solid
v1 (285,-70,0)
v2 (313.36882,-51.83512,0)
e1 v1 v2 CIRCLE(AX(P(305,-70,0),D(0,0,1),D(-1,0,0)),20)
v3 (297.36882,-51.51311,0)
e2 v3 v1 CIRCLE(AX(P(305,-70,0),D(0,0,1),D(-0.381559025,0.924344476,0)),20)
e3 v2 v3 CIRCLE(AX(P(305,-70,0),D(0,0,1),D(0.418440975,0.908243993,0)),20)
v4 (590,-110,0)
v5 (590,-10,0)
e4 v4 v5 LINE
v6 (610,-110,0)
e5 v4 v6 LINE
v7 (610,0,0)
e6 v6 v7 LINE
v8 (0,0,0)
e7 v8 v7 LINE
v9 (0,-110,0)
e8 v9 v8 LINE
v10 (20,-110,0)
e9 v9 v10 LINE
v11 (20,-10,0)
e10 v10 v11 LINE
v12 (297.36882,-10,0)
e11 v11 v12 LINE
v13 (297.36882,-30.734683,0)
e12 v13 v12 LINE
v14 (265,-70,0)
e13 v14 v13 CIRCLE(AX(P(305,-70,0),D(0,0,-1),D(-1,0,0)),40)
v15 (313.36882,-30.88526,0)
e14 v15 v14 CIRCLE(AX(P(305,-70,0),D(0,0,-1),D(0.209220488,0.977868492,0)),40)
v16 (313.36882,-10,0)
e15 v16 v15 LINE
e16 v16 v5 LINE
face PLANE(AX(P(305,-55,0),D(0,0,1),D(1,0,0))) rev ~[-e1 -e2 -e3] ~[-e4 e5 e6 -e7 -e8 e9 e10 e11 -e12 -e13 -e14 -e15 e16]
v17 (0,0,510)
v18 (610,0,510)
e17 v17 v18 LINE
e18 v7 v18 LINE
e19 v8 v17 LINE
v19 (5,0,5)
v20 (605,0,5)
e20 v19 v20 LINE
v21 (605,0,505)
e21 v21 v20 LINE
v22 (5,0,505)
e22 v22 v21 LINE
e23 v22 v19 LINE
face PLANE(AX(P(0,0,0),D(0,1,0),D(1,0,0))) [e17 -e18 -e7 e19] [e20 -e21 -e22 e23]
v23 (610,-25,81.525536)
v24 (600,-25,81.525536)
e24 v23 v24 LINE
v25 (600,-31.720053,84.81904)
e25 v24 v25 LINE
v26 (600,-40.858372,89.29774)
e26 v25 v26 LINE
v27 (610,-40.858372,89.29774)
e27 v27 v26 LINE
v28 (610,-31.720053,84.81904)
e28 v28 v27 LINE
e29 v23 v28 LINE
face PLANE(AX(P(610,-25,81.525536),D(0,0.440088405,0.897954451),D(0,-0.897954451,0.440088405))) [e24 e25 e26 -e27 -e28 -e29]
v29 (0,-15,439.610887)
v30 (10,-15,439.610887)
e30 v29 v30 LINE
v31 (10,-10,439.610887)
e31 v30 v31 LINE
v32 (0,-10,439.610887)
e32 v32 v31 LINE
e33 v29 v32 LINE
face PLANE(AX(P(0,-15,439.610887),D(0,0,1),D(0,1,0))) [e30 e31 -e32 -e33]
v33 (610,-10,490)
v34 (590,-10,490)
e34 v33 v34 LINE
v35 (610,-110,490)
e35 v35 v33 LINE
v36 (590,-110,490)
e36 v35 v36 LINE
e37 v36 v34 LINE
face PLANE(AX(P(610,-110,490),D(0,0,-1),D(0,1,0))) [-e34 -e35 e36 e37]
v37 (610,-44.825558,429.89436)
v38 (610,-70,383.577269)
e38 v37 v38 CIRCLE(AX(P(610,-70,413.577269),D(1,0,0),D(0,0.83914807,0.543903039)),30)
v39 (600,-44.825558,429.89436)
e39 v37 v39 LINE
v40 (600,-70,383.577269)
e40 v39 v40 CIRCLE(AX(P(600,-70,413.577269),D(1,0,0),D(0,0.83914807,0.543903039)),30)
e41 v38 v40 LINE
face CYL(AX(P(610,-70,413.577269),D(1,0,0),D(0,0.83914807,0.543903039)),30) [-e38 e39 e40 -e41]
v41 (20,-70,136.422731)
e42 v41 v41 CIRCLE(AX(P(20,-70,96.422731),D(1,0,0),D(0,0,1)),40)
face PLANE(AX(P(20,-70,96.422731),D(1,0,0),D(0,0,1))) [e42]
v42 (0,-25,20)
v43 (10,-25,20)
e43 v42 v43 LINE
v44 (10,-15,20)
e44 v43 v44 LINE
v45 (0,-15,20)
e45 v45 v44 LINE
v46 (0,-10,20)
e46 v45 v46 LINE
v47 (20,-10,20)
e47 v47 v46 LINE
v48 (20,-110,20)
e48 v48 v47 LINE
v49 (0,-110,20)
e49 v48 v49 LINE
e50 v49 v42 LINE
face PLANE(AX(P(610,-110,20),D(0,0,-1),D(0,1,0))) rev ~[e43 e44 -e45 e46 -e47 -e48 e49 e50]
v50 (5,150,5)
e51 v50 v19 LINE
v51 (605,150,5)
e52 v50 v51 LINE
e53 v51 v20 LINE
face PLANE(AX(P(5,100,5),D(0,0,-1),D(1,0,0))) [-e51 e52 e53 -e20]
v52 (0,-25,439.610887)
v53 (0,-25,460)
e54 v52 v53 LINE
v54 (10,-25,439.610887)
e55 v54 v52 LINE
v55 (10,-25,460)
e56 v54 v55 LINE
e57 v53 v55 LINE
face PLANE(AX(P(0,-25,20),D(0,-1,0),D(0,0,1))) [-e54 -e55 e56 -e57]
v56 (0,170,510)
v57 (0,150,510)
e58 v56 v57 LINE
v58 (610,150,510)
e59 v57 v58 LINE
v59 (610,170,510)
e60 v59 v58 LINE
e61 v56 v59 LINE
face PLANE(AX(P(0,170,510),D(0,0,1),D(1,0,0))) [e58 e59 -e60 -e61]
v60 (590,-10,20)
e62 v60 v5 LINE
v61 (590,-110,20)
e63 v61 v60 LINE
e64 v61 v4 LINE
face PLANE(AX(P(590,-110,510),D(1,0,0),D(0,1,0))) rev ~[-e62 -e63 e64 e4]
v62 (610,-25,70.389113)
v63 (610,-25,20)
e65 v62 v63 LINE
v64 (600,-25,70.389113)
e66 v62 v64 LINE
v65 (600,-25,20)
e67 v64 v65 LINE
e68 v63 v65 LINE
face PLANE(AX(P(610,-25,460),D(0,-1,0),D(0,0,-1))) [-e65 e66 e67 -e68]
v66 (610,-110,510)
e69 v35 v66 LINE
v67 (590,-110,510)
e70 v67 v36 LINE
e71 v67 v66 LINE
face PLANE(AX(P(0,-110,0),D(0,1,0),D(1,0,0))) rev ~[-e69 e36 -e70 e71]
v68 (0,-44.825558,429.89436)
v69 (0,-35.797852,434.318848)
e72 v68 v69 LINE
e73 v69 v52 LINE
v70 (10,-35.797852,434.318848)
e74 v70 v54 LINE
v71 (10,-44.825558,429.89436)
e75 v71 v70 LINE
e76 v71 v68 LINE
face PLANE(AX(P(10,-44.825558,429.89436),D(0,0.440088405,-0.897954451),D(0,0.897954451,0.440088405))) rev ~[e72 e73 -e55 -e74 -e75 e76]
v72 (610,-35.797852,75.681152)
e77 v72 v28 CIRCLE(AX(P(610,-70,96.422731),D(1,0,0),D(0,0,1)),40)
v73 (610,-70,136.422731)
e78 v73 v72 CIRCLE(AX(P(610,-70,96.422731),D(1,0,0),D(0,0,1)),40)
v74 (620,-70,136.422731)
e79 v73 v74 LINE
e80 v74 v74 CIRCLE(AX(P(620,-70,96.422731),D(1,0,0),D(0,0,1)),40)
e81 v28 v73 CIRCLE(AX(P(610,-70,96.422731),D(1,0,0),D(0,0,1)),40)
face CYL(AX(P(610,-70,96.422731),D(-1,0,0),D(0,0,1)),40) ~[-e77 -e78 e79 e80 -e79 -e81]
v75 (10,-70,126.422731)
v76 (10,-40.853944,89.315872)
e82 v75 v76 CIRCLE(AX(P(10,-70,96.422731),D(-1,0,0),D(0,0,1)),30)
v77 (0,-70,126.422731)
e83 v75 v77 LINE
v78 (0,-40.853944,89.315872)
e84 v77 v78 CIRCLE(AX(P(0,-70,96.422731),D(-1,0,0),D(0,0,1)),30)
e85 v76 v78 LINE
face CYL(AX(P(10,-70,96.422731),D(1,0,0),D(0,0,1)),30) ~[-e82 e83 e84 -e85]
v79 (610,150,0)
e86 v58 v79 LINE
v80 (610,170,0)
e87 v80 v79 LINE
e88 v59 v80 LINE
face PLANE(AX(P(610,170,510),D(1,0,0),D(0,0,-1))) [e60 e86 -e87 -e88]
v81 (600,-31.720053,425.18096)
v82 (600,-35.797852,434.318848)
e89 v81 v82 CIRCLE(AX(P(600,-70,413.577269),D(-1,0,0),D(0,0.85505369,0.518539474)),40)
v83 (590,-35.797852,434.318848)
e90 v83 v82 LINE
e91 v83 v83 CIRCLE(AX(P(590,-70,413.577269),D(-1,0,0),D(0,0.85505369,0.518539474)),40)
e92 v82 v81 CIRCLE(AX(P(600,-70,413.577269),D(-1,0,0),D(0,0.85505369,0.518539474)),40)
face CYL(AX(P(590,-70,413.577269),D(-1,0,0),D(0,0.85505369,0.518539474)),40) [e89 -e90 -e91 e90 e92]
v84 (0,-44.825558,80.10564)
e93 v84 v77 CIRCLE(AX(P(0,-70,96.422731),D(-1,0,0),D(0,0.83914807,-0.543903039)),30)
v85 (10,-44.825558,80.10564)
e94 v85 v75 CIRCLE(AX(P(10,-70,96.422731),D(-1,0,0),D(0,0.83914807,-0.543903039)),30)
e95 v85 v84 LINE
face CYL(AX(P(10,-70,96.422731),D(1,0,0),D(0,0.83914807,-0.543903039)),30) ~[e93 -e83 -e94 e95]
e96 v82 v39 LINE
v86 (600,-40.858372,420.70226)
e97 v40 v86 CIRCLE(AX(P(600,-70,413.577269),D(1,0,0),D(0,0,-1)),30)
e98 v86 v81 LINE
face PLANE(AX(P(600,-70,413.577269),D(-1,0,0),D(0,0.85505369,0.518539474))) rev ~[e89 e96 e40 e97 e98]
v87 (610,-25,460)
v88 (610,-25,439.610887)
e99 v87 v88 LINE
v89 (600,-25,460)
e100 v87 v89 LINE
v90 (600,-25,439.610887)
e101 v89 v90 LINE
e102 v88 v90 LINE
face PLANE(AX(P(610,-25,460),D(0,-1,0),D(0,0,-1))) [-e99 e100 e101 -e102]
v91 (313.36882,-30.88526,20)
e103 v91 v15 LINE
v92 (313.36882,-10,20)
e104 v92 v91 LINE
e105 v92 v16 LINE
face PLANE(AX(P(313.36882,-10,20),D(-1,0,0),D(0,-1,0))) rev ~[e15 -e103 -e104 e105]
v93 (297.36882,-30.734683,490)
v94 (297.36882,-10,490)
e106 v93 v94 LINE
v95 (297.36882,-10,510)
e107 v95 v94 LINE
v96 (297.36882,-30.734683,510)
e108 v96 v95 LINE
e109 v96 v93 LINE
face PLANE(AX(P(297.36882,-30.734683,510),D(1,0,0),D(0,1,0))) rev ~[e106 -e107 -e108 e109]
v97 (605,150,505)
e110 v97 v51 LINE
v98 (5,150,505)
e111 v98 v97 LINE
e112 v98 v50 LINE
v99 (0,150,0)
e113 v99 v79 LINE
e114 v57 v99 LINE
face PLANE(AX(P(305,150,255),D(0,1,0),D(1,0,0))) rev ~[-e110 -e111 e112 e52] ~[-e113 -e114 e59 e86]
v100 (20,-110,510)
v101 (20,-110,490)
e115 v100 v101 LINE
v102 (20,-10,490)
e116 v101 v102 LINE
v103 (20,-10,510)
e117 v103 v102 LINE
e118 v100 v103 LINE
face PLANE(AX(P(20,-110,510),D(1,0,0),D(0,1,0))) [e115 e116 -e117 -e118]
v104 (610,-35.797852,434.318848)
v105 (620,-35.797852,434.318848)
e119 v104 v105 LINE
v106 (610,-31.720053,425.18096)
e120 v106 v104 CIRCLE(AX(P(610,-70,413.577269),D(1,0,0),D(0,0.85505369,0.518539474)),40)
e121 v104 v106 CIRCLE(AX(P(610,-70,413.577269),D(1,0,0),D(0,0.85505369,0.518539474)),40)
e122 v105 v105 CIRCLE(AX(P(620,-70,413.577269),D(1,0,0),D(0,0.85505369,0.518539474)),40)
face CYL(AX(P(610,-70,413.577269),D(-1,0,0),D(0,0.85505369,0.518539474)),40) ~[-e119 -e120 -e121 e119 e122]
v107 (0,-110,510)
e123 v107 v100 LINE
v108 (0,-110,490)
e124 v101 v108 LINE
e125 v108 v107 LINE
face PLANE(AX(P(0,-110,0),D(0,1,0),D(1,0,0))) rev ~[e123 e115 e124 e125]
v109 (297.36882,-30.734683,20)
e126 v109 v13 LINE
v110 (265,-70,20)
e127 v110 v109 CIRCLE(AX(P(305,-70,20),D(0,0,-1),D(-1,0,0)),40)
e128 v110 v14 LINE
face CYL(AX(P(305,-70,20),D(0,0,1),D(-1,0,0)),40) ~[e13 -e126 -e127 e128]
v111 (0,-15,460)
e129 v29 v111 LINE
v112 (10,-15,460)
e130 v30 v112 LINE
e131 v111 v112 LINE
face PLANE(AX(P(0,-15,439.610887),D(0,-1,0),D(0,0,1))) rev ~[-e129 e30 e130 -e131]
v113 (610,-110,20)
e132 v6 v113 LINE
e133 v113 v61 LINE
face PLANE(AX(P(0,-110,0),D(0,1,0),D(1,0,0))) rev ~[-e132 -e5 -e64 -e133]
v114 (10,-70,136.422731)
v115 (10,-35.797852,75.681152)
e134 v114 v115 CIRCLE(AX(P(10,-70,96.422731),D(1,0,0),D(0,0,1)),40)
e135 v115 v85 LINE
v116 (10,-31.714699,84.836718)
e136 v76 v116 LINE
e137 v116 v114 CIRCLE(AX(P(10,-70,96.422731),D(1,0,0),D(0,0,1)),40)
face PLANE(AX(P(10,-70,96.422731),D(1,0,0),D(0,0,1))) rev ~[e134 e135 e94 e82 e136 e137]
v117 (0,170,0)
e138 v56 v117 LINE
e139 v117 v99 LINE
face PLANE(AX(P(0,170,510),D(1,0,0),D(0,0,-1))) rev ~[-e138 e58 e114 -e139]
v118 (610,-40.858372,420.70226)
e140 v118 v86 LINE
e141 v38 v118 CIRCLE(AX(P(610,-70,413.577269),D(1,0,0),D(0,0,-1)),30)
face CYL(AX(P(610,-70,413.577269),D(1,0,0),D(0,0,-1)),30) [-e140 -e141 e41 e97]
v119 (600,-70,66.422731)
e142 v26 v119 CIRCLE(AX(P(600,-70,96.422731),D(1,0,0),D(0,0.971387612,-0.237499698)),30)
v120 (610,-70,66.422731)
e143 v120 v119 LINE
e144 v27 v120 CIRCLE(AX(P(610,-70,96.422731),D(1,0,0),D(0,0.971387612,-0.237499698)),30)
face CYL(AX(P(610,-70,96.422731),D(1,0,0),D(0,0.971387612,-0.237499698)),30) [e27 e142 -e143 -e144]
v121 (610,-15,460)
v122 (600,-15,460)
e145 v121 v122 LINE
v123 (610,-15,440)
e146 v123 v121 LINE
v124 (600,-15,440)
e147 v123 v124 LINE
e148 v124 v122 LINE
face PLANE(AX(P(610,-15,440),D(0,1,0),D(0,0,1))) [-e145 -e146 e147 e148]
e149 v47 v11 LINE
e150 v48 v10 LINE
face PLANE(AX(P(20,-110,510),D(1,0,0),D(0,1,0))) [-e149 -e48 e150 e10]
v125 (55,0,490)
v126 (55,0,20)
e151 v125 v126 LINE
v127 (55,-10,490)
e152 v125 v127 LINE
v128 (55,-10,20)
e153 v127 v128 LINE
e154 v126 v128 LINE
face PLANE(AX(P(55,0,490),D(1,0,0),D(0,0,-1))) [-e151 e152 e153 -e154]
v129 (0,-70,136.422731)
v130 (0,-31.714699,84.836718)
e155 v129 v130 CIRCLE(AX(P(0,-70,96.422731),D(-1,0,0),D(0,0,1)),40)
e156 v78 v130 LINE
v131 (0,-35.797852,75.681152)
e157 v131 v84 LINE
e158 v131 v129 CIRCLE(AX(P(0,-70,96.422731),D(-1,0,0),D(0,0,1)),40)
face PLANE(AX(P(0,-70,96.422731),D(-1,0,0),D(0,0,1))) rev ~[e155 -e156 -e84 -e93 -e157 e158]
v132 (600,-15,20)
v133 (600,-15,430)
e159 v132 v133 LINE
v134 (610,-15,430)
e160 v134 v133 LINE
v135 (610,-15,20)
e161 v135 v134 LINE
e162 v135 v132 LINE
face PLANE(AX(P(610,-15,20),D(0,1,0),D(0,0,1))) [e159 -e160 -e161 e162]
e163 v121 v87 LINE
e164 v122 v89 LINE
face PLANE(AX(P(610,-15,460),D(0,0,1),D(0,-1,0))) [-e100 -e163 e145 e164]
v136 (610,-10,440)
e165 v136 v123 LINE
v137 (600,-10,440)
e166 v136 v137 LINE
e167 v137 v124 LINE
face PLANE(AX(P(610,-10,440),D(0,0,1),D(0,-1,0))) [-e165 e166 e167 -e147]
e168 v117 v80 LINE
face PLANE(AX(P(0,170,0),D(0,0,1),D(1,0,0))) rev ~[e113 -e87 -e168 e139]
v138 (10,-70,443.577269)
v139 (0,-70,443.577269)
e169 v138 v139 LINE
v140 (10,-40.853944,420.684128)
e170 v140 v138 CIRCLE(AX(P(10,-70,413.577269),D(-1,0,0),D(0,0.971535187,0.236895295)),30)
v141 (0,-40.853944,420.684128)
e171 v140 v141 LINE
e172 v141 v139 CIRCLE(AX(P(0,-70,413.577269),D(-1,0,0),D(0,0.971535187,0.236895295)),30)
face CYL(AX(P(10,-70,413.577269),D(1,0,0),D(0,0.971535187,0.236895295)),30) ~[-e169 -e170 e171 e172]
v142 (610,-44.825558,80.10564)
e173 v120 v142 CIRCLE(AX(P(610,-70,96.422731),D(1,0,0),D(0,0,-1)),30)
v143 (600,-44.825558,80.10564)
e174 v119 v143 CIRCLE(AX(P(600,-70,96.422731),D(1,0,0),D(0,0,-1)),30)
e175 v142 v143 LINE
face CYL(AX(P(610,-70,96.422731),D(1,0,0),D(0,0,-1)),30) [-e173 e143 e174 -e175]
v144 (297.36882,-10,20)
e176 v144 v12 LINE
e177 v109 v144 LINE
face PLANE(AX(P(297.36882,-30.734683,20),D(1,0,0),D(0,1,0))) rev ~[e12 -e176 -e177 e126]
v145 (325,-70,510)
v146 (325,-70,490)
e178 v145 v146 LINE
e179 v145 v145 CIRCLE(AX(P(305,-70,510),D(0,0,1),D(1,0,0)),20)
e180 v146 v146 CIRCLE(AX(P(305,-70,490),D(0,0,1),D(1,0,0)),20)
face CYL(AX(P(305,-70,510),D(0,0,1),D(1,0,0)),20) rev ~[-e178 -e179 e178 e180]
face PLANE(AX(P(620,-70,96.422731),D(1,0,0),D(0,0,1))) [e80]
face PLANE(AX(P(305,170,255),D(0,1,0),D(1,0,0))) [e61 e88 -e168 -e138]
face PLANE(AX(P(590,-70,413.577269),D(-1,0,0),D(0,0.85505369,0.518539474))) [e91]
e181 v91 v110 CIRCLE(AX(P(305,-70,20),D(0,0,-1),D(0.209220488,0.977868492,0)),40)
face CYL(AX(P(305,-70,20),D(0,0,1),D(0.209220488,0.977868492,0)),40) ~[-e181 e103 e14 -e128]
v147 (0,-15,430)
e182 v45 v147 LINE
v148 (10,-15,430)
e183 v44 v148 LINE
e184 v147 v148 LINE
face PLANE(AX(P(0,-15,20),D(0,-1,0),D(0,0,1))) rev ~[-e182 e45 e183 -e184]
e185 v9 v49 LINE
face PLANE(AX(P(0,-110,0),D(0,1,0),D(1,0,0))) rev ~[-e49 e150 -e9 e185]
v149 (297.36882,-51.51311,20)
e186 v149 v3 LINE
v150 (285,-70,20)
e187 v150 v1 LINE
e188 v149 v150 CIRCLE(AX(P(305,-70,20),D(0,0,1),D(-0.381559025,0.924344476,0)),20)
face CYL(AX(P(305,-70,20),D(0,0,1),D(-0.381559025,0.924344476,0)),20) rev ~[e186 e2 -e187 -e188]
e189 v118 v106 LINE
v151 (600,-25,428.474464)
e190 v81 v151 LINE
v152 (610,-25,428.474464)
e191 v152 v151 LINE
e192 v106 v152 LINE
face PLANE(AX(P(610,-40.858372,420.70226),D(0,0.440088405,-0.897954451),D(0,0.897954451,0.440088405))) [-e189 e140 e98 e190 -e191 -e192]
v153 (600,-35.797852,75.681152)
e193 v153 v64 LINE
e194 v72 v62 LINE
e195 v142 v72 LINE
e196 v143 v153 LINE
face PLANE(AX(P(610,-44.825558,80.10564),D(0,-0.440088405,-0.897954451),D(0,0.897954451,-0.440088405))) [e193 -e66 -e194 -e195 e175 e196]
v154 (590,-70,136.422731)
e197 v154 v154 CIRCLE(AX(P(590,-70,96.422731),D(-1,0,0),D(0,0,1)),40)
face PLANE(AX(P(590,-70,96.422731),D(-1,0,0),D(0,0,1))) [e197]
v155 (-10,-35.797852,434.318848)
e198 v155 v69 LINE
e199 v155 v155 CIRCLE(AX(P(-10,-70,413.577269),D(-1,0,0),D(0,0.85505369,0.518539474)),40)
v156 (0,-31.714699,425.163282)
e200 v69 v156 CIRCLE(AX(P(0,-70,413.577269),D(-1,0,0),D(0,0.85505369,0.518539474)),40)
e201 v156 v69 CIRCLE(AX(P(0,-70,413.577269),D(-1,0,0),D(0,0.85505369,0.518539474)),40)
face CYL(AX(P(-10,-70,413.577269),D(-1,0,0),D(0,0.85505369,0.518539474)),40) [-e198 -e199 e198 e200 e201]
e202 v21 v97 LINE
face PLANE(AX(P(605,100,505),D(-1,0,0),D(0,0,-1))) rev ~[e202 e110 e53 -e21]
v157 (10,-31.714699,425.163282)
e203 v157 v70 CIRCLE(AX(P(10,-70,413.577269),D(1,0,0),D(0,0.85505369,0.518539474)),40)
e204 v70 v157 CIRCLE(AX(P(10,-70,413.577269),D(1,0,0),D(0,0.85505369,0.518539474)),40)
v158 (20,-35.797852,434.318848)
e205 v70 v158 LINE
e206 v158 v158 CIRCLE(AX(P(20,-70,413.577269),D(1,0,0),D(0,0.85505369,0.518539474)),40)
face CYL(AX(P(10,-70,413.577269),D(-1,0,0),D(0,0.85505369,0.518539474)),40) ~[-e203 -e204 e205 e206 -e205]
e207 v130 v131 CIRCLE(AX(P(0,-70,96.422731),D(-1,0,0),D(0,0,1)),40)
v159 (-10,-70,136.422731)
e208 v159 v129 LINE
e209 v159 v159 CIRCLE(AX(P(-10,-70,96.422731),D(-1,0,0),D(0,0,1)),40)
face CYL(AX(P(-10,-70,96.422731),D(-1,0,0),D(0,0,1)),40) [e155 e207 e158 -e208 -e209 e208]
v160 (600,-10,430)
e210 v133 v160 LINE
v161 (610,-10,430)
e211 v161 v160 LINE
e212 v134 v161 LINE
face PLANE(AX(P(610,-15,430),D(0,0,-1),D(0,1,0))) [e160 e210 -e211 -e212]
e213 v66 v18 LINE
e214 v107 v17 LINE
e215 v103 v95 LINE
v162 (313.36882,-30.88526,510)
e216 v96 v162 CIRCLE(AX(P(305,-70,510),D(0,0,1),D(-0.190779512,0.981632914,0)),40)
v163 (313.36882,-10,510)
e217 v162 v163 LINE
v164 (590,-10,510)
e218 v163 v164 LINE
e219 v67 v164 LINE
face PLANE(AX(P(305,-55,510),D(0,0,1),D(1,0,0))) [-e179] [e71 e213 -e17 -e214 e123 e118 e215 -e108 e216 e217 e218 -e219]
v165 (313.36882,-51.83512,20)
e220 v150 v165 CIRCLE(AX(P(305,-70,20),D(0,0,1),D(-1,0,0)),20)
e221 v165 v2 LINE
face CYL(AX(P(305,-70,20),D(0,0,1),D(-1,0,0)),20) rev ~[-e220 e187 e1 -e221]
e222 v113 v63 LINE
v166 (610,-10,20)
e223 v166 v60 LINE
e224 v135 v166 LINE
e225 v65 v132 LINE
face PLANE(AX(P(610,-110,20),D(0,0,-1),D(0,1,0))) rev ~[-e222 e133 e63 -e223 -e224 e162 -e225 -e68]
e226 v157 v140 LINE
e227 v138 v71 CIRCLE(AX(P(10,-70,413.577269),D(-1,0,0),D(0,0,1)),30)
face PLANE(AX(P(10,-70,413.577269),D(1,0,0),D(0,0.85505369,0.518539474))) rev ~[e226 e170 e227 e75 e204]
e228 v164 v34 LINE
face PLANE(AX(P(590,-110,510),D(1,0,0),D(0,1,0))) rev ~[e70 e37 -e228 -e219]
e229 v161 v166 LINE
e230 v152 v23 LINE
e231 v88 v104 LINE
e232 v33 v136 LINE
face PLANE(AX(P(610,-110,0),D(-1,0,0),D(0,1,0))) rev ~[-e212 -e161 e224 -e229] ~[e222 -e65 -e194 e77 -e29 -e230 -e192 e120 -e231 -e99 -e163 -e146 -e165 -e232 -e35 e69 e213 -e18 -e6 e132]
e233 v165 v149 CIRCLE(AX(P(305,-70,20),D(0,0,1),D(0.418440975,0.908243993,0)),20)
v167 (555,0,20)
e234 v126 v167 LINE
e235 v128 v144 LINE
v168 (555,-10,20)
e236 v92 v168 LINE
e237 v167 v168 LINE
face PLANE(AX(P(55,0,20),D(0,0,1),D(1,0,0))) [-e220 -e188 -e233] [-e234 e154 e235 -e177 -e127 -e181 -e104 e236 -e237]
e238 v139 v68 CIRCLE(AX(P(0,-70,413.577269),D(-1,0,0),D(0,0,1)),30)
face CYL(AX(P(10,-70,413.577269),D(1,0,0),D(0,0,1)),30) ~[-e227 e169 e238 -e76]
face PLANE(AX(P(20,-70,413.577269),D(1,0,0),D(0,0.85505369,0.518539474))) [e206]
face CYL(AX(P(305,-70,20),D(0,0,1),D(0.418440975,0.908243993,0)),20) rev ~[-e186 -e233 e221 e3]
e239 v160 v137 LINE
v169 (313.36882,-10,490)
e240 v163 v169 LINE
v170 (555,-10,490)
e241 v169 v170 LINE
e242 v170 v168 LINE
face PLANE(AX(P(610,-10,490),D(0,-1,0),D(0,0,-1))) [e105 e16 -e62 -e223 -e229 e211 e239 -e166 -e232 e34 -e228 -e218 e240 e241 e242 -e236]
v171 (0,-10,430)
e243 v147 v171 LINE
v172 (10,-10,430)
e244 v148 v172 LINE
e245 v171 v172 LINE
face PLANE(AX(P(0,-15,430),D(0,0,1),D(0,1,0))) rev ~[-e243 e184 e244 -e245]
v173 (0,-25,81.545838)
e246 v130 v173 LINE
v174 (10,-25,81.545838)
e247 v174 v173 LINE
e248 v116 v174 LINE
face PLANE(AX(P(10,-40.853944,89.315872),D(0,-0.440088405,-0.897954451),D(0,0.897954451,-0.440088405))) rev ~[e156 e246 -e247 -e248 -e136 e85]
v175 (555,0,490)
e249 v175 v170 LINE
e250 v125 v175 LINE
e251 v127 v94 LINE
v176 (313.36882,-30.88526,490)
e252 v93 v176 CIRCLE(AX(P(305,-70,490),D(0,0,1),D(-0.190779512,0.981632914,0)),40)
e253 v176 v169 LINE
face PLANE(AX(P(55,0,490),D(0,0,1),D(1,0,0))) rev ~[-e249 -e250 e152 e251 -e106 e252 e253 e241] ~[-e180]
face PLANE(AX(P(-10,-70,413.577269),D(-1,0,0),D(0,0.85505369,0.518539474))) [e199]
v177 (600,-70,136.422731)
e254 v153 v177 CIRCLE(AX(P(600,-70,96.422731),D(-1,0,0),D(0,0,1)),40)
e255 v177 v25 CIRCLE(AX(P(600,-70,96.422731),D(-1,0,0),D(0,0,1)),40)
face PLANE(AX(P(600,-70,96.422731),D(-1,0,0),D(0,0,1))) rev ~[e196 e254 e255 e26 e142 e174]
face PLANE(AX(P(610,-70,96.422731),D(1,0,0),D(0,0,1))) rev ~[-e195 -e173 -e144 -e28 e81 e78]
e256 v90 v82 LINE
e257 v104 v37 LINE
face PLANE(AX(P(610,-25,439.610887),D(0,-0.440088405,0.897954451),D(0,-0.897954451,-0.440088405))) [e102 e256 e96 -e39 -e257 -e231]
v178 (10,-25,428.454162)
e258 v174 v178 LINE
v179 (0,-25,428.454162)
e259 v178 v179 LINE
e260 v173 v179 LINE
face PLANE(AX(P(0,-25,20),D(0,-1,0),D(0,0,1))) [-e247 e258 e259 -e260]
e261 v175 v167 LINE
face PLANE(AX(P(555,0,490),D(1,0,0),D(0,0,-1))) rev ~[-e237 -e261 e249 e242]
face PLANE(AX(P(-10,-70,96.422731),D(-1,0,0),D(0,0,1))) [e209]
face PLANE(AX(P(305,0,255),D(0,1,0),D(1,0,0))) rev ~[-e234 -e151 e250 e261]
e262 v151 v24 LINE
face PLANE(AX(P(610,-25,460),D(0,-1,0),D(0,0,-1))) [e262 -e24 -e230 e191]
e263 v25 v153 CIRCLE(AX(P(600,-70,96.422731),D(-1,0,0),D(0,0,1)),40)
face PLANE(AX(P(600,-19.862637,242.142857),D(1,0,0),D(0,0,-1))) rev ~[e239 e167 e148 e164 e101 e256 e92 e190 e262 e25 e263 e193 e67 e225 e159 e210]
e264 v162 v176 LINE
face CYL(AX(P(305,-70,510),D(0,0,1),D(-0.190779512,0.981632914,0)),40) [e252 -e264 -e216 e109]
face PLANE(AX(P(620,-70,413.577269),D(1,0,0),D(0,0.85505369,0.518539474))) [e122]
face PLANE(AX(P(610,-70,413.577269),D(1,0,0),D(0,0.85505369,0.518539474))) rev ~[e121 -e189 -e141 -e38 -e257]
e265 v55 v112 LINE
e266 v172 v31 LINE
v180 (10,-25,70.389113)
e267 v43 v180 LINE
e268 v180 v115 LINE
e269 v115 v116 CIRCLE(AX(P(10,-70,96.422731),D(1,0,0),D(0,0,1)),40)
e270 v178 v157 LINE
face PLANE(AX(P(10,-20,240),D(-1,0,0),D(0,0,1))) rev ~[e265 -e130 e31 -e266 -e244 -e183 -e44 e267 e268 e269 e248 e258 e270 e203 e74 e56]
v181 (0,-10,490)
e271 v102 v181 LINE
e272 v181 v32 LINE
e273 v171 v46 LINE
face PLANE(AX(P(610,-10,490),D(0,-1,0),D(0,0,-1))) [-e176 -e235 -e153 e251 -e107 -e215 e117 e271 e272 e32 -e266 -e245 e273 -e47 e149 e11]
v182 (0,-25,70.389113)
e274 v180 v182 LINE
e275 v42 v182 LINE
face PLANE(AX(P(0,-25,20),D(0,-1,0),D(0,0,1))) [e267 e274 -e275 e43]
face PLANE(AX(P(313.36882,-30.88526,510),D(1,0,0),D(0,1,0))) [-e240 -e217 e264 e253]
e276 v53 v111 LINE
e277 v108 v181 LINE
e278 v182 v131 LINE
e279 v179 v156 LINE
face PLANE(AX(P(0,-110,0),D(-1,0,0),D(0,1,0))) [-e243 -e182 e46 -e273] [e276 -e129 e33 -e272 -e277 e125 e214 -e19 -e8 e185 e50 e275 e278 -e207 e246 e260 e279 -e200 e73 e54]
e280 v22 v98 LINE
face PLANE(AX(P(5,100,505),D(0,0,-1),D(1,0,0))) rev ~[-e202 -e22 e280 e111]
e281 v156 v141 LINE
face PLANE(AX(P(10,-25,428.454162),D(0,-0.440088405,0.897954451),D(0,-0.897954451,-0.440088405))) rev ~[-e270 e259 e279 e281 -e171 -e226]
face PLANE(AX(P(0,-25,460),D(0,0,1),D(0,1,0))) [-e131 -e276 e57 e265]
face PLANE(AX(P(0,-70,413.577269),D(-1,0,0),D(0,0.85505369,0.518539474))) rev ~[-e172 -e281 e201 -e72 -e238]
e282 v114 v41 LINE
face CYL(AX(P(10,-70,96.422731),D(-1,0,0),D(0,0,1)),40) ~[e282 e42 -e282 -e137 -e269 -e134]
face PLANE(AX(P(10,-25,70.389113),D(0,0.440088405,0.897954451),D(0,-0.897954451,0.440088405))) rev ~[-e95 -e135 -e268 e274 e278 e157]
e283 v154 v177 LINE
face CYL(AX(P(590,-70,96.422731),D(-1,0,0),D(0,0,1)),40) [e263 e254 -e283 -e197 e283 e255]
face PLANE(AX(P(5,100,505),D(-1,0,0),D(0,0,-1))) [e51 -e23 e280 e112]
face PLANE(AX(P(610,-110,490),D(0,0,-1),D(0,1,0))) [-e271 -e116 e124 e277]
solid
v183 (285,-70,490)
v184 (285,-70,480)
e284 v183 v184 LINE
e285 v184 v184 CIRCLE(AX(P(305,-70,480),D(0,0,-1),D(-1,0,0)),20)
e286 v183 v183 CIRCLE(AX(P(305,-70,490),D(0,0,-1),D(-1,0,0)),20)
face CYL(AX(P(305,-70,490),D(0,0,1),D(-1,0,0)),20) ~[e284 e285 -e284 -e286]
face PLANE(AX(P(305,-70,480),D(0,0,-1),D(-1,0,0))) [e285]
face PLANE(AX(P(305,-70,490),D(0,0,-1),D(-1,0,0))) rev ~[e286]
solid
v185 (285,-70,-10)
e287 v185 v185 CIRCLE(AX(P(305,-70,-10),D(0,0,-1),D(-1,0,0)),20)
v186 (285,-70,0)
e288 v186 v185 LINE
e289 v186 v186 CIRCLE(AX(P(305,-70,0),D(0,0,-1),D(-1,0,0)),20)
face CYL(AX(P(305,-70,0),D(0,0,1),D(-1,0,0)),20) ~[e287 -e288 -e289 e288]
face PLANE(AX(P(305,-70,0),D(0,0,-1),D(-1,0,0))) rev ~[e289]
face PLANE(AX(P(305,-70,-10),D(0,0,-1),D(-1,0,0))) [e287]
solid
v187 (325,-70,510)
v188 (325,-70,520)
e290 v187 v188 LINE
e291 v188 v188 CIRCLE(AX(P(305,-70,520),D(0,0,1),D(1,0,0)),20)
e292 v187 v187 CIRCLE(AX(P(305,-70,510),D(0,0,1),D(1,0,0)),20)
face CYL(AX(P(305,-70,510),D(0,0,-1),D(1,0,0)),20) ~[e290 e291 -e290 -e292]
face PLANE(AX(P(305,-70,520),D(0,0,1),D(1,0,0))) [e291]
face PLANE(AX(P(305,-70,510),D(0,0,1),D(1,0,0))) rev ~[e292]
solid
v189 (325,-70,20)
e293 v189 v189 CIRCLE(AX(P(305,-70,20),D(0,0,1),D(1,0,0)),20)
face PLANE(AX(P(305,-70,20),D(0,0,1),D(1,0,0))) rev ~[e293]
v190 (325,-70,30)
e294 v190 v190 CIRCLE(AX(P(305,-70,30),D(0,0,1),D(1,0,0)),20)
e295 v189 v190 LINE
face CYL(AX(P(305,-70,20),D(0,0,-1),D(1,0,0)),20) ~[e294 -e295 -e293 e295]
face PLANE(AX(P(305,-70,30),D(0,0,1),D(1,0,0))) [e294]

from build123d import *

# Parameters (mm, degrees)
SKETCH2_W            = 610
SKETCH2_H            = 110
BOSS_EXTRUDE1_DEPTH  = 510
SKETCH3_W            = 500
SKETCH3_H            = 470
CUT_EXTRUDE1_DEPTH   = 510
SKETCH4_W            = 570
SKETCH4_H            = 100
CUT_EXTRUDE2_DEPTH   = 510
SKETCH5_W            = 470
SKETCH5_H            = 100
CUT_EXTRUDE4_DEPTH   = 610
SKETCH7_W            = 600
SKETCH7_H            = 500
BOSS_EXTRUDE2_DEPTH  = 100
SKETCH8_W            = 500
SKETCH8_H            = 400
BOSS_EXTRUDE3_DEPTH  = 20
SKETCH9_W            = 600
SKETCH9_H            = 500
BOSS_EXTRUDE4_DEPTH  = 50
SKETCH10_R           = 30
CUT_EXTRUDE5_DEPTH   = 600
BOSS_EXTRUDE5_DEPTH  = 10
BOSS_EXTRUDE11_DEPTH = 10
SKETCH17_R           = 40
BOSS_EXTRUDE12_DEPTH = 10
BOSS_EXTRUDE13_START = 10
SKETCH18_R           = 40
BOSS_EXTRUDE13_DEPTH = 10
SKETCH19_W           = 440
SKETCH19_H           = 10
SKETCH19_W_2         = 9.610886645
SKETCH19_H_2         = 15
BOSS_EXTRUDE14_DEPTH = 10
BOSS_EXTRUDE15_START = -10
BOSS_EXTRUDE15_DEPTH = 10
BOSS_EXTRUDE16_START = 10
SKETCH21_R           = 40
BOSS_EXTRUDE16_DEPTH = 10
SKETCH22_R           = 40
BOSS_EXTRUDE17_DEPTH = 10
CUT_EXTRUDE7_DEPTH   = 610
SKETCH24_R           = 40
SKETCH24_W           = 16
SKETCH24_H           = 60
BOSS_EXTRUDE18_DEPTH = 20
SKETCH25_R           = 20
CUT_EXTRUDE8_DEPTH   = 20
BOSS_EXTRUDE19_START = -20
BOSS_EXTRUDE19_DEPTH = 20
SKETCH27_R           = 20
BOSS_EXTRUDE20_DEPTH = 10
SKETCH28_R           = 20
BOSS_EXTRUDE21_DEPTH = 10
SKETCH29_R           = 20
BOSS_EXTRUDE22_DEPTH = 10
SKETCH30_R           = 20
BOSS_EXTRUDE23_DEPTH = 10
SKETCH31_W           = 600
SKETCH31_H           = 500
BOSS_EXTRUDE24_DEPTH = 70
SKETCH32_W           = 610
SKETCH32_H           = 510
BOSS_EXTRUDE25_DEPTH = 20


with BuildPart() as part:
    # Sketch2 → Boss-Extrude1 (new body)
    with BuildSketch(Plane.XY):
        with Locations((305, -55)):
            Rectangle(SKETCH2_W, SKETCH2_H)
    extrude(amount=BOSS_EXTRUDE1_DEPTH)

    # Sketch3 → Cut-Extrude1 (cut)
    with BuildSketch(Plane(origin=(0, 0, 0), x_dir=(1, 0, 0), z_dir=(0, 1, 0))):
        with Locations((305, -255)):
            Rectangle(SKETCH3_W, SKETCH3_H)
    extrude(amount=-CUT_EXTRUDE1_DEPTH, mode=Mode.SUBTRACT)

    # Sketch4 → Cut-Extrude2 (cut)
    with BuildSketch(Plane.XY.offset(510)):
        with Locations((305, -60)):
            Rectangle(SKETCH4_W, SKETCH4_H)
    extrude(amount=-CUT_EXTRUDE2_DEPTH, mode=Mode.SUBTRACT)

    # Sketch5 → Cut-Extrude4 (cut)
    with BuildSketch(Plane(origin=(610, 0, 0), x_dir=(0, 0, -1), z_dir=(1, 0, 0))):
        with Locations((-255, -60)):
            Rectangle(SKETCH5_W, SKETCH5_H)
    extrude(amount=-CUT_EXTRUDE4_DEPTH, mode=Mode.SUBTRACT)

    # Sketch7 → Boss-Extrude2 (add)
    with BuildSketch(Plane(origin=(0, 0, 0), x_dir=(1, 0, 0), z_dir=(0, 1, 0))):
        with Locations((305, -255)):
            Rectangle(SKETCH7_W, SKETCH7_H)
    extrude(amount=BOSS_EXTRUDE2_DEPTH)

    # Sketch8 → Boss-Extrude3 (add)
    with BuildSketch(Plane(origin=(0, 100, 0), x_dir=(1, 0, 0), z_dir=(0, 1, 0))):
        with Locations((305, -255)):
            Rectangle(SKETCH8_W, SKETCH8_H)
    extrude(amount=BOSS_EXTRUDE3_DEPTH)

    # Sketch9 → Boss-Extrude4 (add)
    with BuildSketch(Plane(origin=(0, 120, 0), x_dir=(1, 0, 0), z_dir=(0, 1, 0))):
        with Locations((305, -255)):
            Rectangle(SKETCH9_W, SKETCH9_H)
    extrude(amount=BOSS_EXTRUDE4_DEPTH)

    # Sketch10 → Cut-Extrude5 (cut)
    with BuildSketch(Plane.XY.offset(505)):
        with Locations((5, 170)):
            Circle(SKETCH10_R)
        with Locations((605, 170)):
            Circle(SKETCH10_R)
    extrude(amount=-CUT_EXTRUDE5_DEPTH, mode=Mode.SUBTRACT)

    # Sketch11 → Boss-Extrude5 (add)
    with BuildSketch(Plane(origin=(610, 0, 0), x_dir=(0, 0, -1), z_dir=(1, 0, 0))):
        Polygon((-430, -10), (-440, -10), (-440, -15), (-460, -15), (-460, -25), (-20, -25), (-20, -15), (-430, -15), align=None)
    extrude(amount=-BOSS_EXTRUDE5_DEPTH)

    # Sketch12 → Boss-Extrude11 (add)
    with BuildSketch(Plane(origin=(610, 0, 0), x_dir=(0, 0, -1), z_dir=(1, 0, 0))):
        with BuildLine():
            ThreePointArc((-420.702259986, -40.858371626), (-425.464970475, -42.455807236), (-429.894360229, -44.825557887))
            Line((-429.894360229, -44.825557887), (-424.207792479, -56.428405784))
            Line((-424.207792479, -56.428405784), (-415.22824797, -52.027521736))
            Line((-415.22824797, -52.027521736), (-420.702259986, -40.858371626))
        make_face()
        with BuildLine():
            Line((-424.207792479, -56.428405784), (-429.894360229, -44.825557887))
            ThreePointArc((-429.894360229, -44.825557887), (-427.903595608, -96.358231495), (-383.577269058, -70))
            ThreePointArc((-383.577269058, -70), (-395.053631832, -46.401803799), (-420.702259986, -40.858371626))
            Line((-420.702259986, -40.858371626), (-415.22824797, -52.027521736))
            Line((-415.22824797, -52.027521736), (-424.207792479, -56.428405784))
        make_face()
        with BuildLine():
            ThreePointArc((-80.105639771, -44.825557887), (-84.535029525, -42.455807236), (-89.297740014, -40.858371626))
            Line((-89.297740014, -40.858371626), (-94.77175203, -52.027521736))
            Line((-94.77175203, -52.027521736), (-85.792207521, -56.428405784))
            Line((-85.792207521, -56.428405784), (-80.105639771, -44.825557887))
        make_face()
        with BuildLine():
            Line((-94.77175203, -52.027521736), (-89.297740014, -40.858371626))
            ThreePointArc((-89.297740014, -40.858371626), (-120.020927143, -88.523637226), (-66.422730942, -70))
            ThreePointArc((-66.422730942, -70), (-70.064499447, -55.673673449), (-80.105639771, -44.825557887))
            Line((-80.105639771, -44.825557887), (-85.792207521, -56.428405784))
            Line((-85.792207521, -56.428405784), (-94.77175203, -52.027521736))
        make_face()
        with BuildLine():
            Line((-70.389113355, -25), (-81.525535686, -25))
            Line((-81.525535686, -25), (-89.297740014, -40.858371626))
            ThreePointArc((-89.297740014, -40.858371626), (-84.535029525, -42.455807236), (-80.105639771, -44.825557887))
            Line((-80.105639771, -44.825557887), (-70.389113355, -25))
        make_face()
        with BuildLine():
            Line((-428.474464314, -25), (-439.610886645, -25))
            Line((-439.610886645, -25), (-429.894360229, -44.825557887))
            ThreePointArc((-429.894360229, -44.825557887), (-425.464970475, -42.455807236), (-420.702259986, -40.858371626))
            Line((-420.702259986, -40.858371626), (-428.474464314, -25))
        make_face()
    extrude(amount=-BOSS_EXTRUDE11_DEPTH)

    # Sketch17 → Boss-Extrude12 (add)
    with BuildSketch(Plane(origin=(610, 0, 0), x_dir=(0, 0, -1), z_dir=(1, 0, 0))):
        with Locations(Location((-413.577269058, -70, 0), (0, 0, 121.234333219))):
            Circle(SKETCH17_R)
        with Locations(Location((-96.422730942, -70, 0), (0, 0, 180))):
            Circle(SKETCH17_R)
    extrude(amount=BOSS_EXTRUDE12_DEPTH)

    # Sketch18 → Boss-Extrude13 (add)
    with BuildSketch(Plane.ZY.offset(-600).offset(BOSS_EXTRUDE13_START)):
        with Locations((96.422730942, -70)):
            Circle(SKETCH18_R)
        with Locations(Location((413.577269058, -70, 0), (0, 0, 58.765666781))):
            Circle(SKETCH18_R)
    extrude(amount=-BOSS_EXTRUDE13_DEPTH)

    # Sketch19 → Boss-Extrude14 (add)
    with BuildSketch(Plane.ZY):
        with Locations((240, -20)):
            Rectangle(SKETCH19_W, SKETCH19_H)
        with Locations((434.805443323, -17.5)):
            Rectangle(SKETCH19_W_2, SKETCH19_H_2)
    extrude(amount=-BOSS_EXTRUDE14_DEPTH)

    # Sketch20 → Boss-Extrude15 (add)
    with BuildSketch(Plane.ZY.offset(BOSS_EXTRUDE15_START)):
        with BuildLine():
            ThreePointArc((89.315872093, -40.853944396), (84.543598521, -42.452110554), (80.105639771, -44.825557887))
            Line((80.105639771, -44.825557887), (85.792207521, -56.428405784))
            Line((85.792207521, -56.428405784), (94.788121878, -52.019498857))
            Line((94.788121878, -52.019498857), (89.315872093, -40.853944396))
        make_face()
        with BuildLine():
            Line((85.792207521, -56.428405784), (80.105639771, -44.825557887))
            ThreePointArc((80.105639771, -44.825557887), (82.096404392, -96.358231495), (126.422730942, -70))
            ThreePointArc((126.422730942, -70), (114.953708177, -46.407567257), (89.315872093, -40.853944396))
            Line((89.315872093, -40.853944396), (94.788121878, -52.019498857))
            Line((94.788121878, -52.019498857), (85.792207521, -56.428405784))
        make_face()
        with BuildLine():
            Line((81.545837554, -25), (70.389113355, -25))
            Line((70.389113355, -25), (80.105639771, -44.825557887))
            ThreePointArc((80.105639771, -44.825557887), (84.543598521, -42.452110554), (89.315872093, -40.853944396))
            Line((89.315872093, -40.853944396), (81.545837554, -25))
        make_face()
        with BuildLine():
            ThreePointArc((429.894360229, -44.825557887), (425.456401479, -42.452110554), (420.684127907, -40.853944396))
            Line((420.684127907, -40.853944396), (415.211878122, -52.019498857))
            Line((415.211878122, -52.019498857), (424.207792479, -56.428405784))
            Line((424.207792479, -56.428405784), (429.894360229, -44.825557887))
        make_face()
        with BuildLine():
            Line((415.211878122, -52.019498857), (420.684127907, -40.853944396))
            ThreePointArc((420.684127907, -40.853944396), (389.984836315, -88.530977234), (443.577269058, -70))
            ThreePointArc((443.577269058, -70), (439.935500553, -55.673673449), (429.894360229, -44.825557887))
            Line((429.894360229, -44.825557887), (424.207792479, -56.428405784))
            Line((424.207792479, -56.428405784), (415.211878122, -52.019498857))
        make_face()
        with BuildLine():
            Line((439.610886645, -25), (428.454162446, -25))
            Line((428.454162446, -25), (420.684127907, -40.853944396))
            ThreePointArc((420.684127907, -40.853944396), (425.456401479, -42.452110554), (429.894360229, -44.825557887))
            Line((429.894360229, -44.825557887), (439.610886645, -25))
        make_face()
    extrude(amount=BOSS_EXTRUDE15_DEPTH)

    # Sketch21 → Boss-Extrude16 (add)
    with BuildSketch(Plane.ZY.offset(BOSS_EXTRUDE16_START)):
        with Locations((96.422730942, -70)):
            Circle(SKETCH21_R)
        with Locations(Location((413.577269058, -70, 0), (0, 0, 58.765666781))):
            Circle(SKETCH21_R)
    extrude(amount=-BOSS_EXTRUDE16_DEPTH)

    # Sketch22 → Boss-Extrude17 (add)
    with BuildSketch(Plane(origin=(10, 0, 0), x_dir=(0, 0, -1), z_dir=(1, 0, 0))):
        with Locations(Location((-413.577269058, -70, 0), (0, 0, 121.234333219))):
            Circle(SKETCH22_R)
        with Locations(Location((-96.422730942, -70, 0), (0, 0, 180))):
            Circle(SKETCH22_R)
    extrude(amount=BOSS_EXTRUDE17_DEPTH)

    # Sketch23 → Cut-Extrude7 (cut)
    with BuildSketch(Plane.ZY.offset(-5)):
        with BuildLine():
            Line((225, 135), (245, 135))
            ThreePointArc((245, 135), (250, 130), (245, 125))
            Line((245, 125), (225, 125))
            ThreePointArc((225, 125), (220, 130), (225, 135))
        make_face()
        with BuildLine():
            Line((285, 135), (265, 135))
            ThreePointArc((265, 135), (260, 130), (265, 125))
            Line((265, 125), (285, 125))
            ThreePointArc((285, 125), (290, 130), (285, 135))
        make_face()
    extrude(amount=-CUT_EXTRUDE7_DEPTH, mode=Mode.SUBTRACT)

    # Sketch24 → Boss-Extrude18 (add)
    with BuildSketch(Plane.XY.offset(510)):
        with Locations((305, -70)):
            Circle(SKETCH24_R)
        with Locations((305.368819506, -40)):
            Rectangle(SKETCH24_W, SKETCH24_H)
    extrude(amount=-BOSS_EXTRUDE18_DEPTH)

    # Sketch25 → Cut-Extrude8 (cut)
    with BuildSketch(Plane.XY.offset(510)):
        with Locations((305, -70)):
            Circle(SKETCH25_R)
    extrude(amount=-CUT_EXTRUDE8_DEPTH, mode=Mode.SUBTRACT)

    # Sketch26 → Boss-Extrude19 (add)
    with BuildSketch(Plane(origin=(0, 0, 0), x_dir=(-1, 0, 0), z_dir=(0, 0, -1)).offset(BOSS_EXTRUDE19_START)):
        with BuildLine():
            ThreePointArc((-297.368819506, -30.734683444), (-305.376425527, -30.001771241), (-313.368819506, -30.885260322))
            Line((-313.368819506, -30.885260322), (-313.368819506, -51.835120147))
            ThreePointArc((-313.368819506, -51.835120147), (-305.402430597, -50.00404917), (-297.368819506, -51.513110476))
            Line((-297.368819506, -51.513110476), (-297.368819506, -30.734683444))
        make_face()
        with BuildLine():
            Line((-313.368819506, -51.835120147), (-313.368819506, -30.885260322))
            ThreePointArc((-313.368819506, -30.885260322), (-330.152010056, -101.102674967), (-265, -70))
            ThreePointArc((-265, -70), (-274.135398757, -44.55640768), (-297.368819506, -30.734683444))
            Line((-297.368819506, -30.734683444), (-297.368819506, -51.513110476))
            ThreePointArc((-297.368819506, -51.513110476), (-288.377370697, -58.878480542), (-285, -70))
            ThreePointArc((-285, -70), (-315.784795081, -86.843045896), (-313.368819506, -51.835120147))
        make_face()
        with BuildLine():
            Line((-297.368819506, -10), (-313.368819506, -10))
            Line((-313.368819506, -10), (-313.368819506, -30.885260322))
            ThreePointArc((-313.368819506, -30.885260322), (-305.376425527, -30.001771241), (-297.368819506, -30.734683444))
            Line((-297.368819506, -30.734683444), (-297.368819506, -10))
        make_face()
    extrude(amount=BOSS_EXTRUDE19_DEPTH)

    # Sketch31 → Boss-Extrude24 (add)
    with BuildSketch(Plane(origin=(0, 100, 0), x_dir=(1, 0, 0), z_dir=(0, 1, 0))):
        with Locations((305, -255)):
            Rectangle(SKETCH31_W, SKETCH31_H)
    extrude(amount=BOSS_EXTRUDE24_DEPTH)

    # Sketch32 → Boss-Extrude25 (add)
    with BuildSketch(Plane(origin=(0, 170, 0), x_dir=(1, 0, 0), z_dir=(0, 1, 0))):
        with Locations((305, -255)):
            Rectangle(SKETCH32_W, SKETCH32_H)
    extrude(amount=-BOSS_EXTRUDE25_DEPTH)


with BuildPart() as body_2:
    # Sketch27 → Boss-Extrude20 (new body)
    with BuildSketch(Plane(origin=(0, 0, 0), x_dir=(-1, 0, 0), z_dir=(0, 0, -1))):
        with Locations((-305, -70)):
            Circle(SKETCH27_R)
    extrude(amount=BOSS_EXTRUDE20_DEPTH)


with BuildPart() as body_3:
    # Sketch28 → Boss-Extrude21 (new body)
    with BuildSketch(Plane.XY.offset(20)):
        with Locations((305, -70)):
            Circle(SKETCH28_R)
    extrude(amount=BOSS_EXTRUDE21_DEPTH)


with BuildPart() as body_4:
    # Sketch29 → Boss-Extrude22 (new body)
    with BuildSketch(Plane.XY.offset(510)):
        with Locations((305, -70)):
            Circle(SKETCH29_R)
    extrude(amount=BOSS_EXTRUDE22_DEPTH)


with BuildPart() as body_5:
    # Sketch30 → Boss-Extrude23 (new body)
    with BuildSketch(Plane(origin=(0, 0, 490), x_dir=(-1, 0, 0), z_dir=(0, 0, -1))):
        with Locations((-305, -70)):
            Circle(SKETCH30_R)
    extrude(amount=BOSS_EXTRUDE23_DEPTH)


solid = Compound([part.part, body_2.part, body_3.part, body_4.part, body_5.part])
